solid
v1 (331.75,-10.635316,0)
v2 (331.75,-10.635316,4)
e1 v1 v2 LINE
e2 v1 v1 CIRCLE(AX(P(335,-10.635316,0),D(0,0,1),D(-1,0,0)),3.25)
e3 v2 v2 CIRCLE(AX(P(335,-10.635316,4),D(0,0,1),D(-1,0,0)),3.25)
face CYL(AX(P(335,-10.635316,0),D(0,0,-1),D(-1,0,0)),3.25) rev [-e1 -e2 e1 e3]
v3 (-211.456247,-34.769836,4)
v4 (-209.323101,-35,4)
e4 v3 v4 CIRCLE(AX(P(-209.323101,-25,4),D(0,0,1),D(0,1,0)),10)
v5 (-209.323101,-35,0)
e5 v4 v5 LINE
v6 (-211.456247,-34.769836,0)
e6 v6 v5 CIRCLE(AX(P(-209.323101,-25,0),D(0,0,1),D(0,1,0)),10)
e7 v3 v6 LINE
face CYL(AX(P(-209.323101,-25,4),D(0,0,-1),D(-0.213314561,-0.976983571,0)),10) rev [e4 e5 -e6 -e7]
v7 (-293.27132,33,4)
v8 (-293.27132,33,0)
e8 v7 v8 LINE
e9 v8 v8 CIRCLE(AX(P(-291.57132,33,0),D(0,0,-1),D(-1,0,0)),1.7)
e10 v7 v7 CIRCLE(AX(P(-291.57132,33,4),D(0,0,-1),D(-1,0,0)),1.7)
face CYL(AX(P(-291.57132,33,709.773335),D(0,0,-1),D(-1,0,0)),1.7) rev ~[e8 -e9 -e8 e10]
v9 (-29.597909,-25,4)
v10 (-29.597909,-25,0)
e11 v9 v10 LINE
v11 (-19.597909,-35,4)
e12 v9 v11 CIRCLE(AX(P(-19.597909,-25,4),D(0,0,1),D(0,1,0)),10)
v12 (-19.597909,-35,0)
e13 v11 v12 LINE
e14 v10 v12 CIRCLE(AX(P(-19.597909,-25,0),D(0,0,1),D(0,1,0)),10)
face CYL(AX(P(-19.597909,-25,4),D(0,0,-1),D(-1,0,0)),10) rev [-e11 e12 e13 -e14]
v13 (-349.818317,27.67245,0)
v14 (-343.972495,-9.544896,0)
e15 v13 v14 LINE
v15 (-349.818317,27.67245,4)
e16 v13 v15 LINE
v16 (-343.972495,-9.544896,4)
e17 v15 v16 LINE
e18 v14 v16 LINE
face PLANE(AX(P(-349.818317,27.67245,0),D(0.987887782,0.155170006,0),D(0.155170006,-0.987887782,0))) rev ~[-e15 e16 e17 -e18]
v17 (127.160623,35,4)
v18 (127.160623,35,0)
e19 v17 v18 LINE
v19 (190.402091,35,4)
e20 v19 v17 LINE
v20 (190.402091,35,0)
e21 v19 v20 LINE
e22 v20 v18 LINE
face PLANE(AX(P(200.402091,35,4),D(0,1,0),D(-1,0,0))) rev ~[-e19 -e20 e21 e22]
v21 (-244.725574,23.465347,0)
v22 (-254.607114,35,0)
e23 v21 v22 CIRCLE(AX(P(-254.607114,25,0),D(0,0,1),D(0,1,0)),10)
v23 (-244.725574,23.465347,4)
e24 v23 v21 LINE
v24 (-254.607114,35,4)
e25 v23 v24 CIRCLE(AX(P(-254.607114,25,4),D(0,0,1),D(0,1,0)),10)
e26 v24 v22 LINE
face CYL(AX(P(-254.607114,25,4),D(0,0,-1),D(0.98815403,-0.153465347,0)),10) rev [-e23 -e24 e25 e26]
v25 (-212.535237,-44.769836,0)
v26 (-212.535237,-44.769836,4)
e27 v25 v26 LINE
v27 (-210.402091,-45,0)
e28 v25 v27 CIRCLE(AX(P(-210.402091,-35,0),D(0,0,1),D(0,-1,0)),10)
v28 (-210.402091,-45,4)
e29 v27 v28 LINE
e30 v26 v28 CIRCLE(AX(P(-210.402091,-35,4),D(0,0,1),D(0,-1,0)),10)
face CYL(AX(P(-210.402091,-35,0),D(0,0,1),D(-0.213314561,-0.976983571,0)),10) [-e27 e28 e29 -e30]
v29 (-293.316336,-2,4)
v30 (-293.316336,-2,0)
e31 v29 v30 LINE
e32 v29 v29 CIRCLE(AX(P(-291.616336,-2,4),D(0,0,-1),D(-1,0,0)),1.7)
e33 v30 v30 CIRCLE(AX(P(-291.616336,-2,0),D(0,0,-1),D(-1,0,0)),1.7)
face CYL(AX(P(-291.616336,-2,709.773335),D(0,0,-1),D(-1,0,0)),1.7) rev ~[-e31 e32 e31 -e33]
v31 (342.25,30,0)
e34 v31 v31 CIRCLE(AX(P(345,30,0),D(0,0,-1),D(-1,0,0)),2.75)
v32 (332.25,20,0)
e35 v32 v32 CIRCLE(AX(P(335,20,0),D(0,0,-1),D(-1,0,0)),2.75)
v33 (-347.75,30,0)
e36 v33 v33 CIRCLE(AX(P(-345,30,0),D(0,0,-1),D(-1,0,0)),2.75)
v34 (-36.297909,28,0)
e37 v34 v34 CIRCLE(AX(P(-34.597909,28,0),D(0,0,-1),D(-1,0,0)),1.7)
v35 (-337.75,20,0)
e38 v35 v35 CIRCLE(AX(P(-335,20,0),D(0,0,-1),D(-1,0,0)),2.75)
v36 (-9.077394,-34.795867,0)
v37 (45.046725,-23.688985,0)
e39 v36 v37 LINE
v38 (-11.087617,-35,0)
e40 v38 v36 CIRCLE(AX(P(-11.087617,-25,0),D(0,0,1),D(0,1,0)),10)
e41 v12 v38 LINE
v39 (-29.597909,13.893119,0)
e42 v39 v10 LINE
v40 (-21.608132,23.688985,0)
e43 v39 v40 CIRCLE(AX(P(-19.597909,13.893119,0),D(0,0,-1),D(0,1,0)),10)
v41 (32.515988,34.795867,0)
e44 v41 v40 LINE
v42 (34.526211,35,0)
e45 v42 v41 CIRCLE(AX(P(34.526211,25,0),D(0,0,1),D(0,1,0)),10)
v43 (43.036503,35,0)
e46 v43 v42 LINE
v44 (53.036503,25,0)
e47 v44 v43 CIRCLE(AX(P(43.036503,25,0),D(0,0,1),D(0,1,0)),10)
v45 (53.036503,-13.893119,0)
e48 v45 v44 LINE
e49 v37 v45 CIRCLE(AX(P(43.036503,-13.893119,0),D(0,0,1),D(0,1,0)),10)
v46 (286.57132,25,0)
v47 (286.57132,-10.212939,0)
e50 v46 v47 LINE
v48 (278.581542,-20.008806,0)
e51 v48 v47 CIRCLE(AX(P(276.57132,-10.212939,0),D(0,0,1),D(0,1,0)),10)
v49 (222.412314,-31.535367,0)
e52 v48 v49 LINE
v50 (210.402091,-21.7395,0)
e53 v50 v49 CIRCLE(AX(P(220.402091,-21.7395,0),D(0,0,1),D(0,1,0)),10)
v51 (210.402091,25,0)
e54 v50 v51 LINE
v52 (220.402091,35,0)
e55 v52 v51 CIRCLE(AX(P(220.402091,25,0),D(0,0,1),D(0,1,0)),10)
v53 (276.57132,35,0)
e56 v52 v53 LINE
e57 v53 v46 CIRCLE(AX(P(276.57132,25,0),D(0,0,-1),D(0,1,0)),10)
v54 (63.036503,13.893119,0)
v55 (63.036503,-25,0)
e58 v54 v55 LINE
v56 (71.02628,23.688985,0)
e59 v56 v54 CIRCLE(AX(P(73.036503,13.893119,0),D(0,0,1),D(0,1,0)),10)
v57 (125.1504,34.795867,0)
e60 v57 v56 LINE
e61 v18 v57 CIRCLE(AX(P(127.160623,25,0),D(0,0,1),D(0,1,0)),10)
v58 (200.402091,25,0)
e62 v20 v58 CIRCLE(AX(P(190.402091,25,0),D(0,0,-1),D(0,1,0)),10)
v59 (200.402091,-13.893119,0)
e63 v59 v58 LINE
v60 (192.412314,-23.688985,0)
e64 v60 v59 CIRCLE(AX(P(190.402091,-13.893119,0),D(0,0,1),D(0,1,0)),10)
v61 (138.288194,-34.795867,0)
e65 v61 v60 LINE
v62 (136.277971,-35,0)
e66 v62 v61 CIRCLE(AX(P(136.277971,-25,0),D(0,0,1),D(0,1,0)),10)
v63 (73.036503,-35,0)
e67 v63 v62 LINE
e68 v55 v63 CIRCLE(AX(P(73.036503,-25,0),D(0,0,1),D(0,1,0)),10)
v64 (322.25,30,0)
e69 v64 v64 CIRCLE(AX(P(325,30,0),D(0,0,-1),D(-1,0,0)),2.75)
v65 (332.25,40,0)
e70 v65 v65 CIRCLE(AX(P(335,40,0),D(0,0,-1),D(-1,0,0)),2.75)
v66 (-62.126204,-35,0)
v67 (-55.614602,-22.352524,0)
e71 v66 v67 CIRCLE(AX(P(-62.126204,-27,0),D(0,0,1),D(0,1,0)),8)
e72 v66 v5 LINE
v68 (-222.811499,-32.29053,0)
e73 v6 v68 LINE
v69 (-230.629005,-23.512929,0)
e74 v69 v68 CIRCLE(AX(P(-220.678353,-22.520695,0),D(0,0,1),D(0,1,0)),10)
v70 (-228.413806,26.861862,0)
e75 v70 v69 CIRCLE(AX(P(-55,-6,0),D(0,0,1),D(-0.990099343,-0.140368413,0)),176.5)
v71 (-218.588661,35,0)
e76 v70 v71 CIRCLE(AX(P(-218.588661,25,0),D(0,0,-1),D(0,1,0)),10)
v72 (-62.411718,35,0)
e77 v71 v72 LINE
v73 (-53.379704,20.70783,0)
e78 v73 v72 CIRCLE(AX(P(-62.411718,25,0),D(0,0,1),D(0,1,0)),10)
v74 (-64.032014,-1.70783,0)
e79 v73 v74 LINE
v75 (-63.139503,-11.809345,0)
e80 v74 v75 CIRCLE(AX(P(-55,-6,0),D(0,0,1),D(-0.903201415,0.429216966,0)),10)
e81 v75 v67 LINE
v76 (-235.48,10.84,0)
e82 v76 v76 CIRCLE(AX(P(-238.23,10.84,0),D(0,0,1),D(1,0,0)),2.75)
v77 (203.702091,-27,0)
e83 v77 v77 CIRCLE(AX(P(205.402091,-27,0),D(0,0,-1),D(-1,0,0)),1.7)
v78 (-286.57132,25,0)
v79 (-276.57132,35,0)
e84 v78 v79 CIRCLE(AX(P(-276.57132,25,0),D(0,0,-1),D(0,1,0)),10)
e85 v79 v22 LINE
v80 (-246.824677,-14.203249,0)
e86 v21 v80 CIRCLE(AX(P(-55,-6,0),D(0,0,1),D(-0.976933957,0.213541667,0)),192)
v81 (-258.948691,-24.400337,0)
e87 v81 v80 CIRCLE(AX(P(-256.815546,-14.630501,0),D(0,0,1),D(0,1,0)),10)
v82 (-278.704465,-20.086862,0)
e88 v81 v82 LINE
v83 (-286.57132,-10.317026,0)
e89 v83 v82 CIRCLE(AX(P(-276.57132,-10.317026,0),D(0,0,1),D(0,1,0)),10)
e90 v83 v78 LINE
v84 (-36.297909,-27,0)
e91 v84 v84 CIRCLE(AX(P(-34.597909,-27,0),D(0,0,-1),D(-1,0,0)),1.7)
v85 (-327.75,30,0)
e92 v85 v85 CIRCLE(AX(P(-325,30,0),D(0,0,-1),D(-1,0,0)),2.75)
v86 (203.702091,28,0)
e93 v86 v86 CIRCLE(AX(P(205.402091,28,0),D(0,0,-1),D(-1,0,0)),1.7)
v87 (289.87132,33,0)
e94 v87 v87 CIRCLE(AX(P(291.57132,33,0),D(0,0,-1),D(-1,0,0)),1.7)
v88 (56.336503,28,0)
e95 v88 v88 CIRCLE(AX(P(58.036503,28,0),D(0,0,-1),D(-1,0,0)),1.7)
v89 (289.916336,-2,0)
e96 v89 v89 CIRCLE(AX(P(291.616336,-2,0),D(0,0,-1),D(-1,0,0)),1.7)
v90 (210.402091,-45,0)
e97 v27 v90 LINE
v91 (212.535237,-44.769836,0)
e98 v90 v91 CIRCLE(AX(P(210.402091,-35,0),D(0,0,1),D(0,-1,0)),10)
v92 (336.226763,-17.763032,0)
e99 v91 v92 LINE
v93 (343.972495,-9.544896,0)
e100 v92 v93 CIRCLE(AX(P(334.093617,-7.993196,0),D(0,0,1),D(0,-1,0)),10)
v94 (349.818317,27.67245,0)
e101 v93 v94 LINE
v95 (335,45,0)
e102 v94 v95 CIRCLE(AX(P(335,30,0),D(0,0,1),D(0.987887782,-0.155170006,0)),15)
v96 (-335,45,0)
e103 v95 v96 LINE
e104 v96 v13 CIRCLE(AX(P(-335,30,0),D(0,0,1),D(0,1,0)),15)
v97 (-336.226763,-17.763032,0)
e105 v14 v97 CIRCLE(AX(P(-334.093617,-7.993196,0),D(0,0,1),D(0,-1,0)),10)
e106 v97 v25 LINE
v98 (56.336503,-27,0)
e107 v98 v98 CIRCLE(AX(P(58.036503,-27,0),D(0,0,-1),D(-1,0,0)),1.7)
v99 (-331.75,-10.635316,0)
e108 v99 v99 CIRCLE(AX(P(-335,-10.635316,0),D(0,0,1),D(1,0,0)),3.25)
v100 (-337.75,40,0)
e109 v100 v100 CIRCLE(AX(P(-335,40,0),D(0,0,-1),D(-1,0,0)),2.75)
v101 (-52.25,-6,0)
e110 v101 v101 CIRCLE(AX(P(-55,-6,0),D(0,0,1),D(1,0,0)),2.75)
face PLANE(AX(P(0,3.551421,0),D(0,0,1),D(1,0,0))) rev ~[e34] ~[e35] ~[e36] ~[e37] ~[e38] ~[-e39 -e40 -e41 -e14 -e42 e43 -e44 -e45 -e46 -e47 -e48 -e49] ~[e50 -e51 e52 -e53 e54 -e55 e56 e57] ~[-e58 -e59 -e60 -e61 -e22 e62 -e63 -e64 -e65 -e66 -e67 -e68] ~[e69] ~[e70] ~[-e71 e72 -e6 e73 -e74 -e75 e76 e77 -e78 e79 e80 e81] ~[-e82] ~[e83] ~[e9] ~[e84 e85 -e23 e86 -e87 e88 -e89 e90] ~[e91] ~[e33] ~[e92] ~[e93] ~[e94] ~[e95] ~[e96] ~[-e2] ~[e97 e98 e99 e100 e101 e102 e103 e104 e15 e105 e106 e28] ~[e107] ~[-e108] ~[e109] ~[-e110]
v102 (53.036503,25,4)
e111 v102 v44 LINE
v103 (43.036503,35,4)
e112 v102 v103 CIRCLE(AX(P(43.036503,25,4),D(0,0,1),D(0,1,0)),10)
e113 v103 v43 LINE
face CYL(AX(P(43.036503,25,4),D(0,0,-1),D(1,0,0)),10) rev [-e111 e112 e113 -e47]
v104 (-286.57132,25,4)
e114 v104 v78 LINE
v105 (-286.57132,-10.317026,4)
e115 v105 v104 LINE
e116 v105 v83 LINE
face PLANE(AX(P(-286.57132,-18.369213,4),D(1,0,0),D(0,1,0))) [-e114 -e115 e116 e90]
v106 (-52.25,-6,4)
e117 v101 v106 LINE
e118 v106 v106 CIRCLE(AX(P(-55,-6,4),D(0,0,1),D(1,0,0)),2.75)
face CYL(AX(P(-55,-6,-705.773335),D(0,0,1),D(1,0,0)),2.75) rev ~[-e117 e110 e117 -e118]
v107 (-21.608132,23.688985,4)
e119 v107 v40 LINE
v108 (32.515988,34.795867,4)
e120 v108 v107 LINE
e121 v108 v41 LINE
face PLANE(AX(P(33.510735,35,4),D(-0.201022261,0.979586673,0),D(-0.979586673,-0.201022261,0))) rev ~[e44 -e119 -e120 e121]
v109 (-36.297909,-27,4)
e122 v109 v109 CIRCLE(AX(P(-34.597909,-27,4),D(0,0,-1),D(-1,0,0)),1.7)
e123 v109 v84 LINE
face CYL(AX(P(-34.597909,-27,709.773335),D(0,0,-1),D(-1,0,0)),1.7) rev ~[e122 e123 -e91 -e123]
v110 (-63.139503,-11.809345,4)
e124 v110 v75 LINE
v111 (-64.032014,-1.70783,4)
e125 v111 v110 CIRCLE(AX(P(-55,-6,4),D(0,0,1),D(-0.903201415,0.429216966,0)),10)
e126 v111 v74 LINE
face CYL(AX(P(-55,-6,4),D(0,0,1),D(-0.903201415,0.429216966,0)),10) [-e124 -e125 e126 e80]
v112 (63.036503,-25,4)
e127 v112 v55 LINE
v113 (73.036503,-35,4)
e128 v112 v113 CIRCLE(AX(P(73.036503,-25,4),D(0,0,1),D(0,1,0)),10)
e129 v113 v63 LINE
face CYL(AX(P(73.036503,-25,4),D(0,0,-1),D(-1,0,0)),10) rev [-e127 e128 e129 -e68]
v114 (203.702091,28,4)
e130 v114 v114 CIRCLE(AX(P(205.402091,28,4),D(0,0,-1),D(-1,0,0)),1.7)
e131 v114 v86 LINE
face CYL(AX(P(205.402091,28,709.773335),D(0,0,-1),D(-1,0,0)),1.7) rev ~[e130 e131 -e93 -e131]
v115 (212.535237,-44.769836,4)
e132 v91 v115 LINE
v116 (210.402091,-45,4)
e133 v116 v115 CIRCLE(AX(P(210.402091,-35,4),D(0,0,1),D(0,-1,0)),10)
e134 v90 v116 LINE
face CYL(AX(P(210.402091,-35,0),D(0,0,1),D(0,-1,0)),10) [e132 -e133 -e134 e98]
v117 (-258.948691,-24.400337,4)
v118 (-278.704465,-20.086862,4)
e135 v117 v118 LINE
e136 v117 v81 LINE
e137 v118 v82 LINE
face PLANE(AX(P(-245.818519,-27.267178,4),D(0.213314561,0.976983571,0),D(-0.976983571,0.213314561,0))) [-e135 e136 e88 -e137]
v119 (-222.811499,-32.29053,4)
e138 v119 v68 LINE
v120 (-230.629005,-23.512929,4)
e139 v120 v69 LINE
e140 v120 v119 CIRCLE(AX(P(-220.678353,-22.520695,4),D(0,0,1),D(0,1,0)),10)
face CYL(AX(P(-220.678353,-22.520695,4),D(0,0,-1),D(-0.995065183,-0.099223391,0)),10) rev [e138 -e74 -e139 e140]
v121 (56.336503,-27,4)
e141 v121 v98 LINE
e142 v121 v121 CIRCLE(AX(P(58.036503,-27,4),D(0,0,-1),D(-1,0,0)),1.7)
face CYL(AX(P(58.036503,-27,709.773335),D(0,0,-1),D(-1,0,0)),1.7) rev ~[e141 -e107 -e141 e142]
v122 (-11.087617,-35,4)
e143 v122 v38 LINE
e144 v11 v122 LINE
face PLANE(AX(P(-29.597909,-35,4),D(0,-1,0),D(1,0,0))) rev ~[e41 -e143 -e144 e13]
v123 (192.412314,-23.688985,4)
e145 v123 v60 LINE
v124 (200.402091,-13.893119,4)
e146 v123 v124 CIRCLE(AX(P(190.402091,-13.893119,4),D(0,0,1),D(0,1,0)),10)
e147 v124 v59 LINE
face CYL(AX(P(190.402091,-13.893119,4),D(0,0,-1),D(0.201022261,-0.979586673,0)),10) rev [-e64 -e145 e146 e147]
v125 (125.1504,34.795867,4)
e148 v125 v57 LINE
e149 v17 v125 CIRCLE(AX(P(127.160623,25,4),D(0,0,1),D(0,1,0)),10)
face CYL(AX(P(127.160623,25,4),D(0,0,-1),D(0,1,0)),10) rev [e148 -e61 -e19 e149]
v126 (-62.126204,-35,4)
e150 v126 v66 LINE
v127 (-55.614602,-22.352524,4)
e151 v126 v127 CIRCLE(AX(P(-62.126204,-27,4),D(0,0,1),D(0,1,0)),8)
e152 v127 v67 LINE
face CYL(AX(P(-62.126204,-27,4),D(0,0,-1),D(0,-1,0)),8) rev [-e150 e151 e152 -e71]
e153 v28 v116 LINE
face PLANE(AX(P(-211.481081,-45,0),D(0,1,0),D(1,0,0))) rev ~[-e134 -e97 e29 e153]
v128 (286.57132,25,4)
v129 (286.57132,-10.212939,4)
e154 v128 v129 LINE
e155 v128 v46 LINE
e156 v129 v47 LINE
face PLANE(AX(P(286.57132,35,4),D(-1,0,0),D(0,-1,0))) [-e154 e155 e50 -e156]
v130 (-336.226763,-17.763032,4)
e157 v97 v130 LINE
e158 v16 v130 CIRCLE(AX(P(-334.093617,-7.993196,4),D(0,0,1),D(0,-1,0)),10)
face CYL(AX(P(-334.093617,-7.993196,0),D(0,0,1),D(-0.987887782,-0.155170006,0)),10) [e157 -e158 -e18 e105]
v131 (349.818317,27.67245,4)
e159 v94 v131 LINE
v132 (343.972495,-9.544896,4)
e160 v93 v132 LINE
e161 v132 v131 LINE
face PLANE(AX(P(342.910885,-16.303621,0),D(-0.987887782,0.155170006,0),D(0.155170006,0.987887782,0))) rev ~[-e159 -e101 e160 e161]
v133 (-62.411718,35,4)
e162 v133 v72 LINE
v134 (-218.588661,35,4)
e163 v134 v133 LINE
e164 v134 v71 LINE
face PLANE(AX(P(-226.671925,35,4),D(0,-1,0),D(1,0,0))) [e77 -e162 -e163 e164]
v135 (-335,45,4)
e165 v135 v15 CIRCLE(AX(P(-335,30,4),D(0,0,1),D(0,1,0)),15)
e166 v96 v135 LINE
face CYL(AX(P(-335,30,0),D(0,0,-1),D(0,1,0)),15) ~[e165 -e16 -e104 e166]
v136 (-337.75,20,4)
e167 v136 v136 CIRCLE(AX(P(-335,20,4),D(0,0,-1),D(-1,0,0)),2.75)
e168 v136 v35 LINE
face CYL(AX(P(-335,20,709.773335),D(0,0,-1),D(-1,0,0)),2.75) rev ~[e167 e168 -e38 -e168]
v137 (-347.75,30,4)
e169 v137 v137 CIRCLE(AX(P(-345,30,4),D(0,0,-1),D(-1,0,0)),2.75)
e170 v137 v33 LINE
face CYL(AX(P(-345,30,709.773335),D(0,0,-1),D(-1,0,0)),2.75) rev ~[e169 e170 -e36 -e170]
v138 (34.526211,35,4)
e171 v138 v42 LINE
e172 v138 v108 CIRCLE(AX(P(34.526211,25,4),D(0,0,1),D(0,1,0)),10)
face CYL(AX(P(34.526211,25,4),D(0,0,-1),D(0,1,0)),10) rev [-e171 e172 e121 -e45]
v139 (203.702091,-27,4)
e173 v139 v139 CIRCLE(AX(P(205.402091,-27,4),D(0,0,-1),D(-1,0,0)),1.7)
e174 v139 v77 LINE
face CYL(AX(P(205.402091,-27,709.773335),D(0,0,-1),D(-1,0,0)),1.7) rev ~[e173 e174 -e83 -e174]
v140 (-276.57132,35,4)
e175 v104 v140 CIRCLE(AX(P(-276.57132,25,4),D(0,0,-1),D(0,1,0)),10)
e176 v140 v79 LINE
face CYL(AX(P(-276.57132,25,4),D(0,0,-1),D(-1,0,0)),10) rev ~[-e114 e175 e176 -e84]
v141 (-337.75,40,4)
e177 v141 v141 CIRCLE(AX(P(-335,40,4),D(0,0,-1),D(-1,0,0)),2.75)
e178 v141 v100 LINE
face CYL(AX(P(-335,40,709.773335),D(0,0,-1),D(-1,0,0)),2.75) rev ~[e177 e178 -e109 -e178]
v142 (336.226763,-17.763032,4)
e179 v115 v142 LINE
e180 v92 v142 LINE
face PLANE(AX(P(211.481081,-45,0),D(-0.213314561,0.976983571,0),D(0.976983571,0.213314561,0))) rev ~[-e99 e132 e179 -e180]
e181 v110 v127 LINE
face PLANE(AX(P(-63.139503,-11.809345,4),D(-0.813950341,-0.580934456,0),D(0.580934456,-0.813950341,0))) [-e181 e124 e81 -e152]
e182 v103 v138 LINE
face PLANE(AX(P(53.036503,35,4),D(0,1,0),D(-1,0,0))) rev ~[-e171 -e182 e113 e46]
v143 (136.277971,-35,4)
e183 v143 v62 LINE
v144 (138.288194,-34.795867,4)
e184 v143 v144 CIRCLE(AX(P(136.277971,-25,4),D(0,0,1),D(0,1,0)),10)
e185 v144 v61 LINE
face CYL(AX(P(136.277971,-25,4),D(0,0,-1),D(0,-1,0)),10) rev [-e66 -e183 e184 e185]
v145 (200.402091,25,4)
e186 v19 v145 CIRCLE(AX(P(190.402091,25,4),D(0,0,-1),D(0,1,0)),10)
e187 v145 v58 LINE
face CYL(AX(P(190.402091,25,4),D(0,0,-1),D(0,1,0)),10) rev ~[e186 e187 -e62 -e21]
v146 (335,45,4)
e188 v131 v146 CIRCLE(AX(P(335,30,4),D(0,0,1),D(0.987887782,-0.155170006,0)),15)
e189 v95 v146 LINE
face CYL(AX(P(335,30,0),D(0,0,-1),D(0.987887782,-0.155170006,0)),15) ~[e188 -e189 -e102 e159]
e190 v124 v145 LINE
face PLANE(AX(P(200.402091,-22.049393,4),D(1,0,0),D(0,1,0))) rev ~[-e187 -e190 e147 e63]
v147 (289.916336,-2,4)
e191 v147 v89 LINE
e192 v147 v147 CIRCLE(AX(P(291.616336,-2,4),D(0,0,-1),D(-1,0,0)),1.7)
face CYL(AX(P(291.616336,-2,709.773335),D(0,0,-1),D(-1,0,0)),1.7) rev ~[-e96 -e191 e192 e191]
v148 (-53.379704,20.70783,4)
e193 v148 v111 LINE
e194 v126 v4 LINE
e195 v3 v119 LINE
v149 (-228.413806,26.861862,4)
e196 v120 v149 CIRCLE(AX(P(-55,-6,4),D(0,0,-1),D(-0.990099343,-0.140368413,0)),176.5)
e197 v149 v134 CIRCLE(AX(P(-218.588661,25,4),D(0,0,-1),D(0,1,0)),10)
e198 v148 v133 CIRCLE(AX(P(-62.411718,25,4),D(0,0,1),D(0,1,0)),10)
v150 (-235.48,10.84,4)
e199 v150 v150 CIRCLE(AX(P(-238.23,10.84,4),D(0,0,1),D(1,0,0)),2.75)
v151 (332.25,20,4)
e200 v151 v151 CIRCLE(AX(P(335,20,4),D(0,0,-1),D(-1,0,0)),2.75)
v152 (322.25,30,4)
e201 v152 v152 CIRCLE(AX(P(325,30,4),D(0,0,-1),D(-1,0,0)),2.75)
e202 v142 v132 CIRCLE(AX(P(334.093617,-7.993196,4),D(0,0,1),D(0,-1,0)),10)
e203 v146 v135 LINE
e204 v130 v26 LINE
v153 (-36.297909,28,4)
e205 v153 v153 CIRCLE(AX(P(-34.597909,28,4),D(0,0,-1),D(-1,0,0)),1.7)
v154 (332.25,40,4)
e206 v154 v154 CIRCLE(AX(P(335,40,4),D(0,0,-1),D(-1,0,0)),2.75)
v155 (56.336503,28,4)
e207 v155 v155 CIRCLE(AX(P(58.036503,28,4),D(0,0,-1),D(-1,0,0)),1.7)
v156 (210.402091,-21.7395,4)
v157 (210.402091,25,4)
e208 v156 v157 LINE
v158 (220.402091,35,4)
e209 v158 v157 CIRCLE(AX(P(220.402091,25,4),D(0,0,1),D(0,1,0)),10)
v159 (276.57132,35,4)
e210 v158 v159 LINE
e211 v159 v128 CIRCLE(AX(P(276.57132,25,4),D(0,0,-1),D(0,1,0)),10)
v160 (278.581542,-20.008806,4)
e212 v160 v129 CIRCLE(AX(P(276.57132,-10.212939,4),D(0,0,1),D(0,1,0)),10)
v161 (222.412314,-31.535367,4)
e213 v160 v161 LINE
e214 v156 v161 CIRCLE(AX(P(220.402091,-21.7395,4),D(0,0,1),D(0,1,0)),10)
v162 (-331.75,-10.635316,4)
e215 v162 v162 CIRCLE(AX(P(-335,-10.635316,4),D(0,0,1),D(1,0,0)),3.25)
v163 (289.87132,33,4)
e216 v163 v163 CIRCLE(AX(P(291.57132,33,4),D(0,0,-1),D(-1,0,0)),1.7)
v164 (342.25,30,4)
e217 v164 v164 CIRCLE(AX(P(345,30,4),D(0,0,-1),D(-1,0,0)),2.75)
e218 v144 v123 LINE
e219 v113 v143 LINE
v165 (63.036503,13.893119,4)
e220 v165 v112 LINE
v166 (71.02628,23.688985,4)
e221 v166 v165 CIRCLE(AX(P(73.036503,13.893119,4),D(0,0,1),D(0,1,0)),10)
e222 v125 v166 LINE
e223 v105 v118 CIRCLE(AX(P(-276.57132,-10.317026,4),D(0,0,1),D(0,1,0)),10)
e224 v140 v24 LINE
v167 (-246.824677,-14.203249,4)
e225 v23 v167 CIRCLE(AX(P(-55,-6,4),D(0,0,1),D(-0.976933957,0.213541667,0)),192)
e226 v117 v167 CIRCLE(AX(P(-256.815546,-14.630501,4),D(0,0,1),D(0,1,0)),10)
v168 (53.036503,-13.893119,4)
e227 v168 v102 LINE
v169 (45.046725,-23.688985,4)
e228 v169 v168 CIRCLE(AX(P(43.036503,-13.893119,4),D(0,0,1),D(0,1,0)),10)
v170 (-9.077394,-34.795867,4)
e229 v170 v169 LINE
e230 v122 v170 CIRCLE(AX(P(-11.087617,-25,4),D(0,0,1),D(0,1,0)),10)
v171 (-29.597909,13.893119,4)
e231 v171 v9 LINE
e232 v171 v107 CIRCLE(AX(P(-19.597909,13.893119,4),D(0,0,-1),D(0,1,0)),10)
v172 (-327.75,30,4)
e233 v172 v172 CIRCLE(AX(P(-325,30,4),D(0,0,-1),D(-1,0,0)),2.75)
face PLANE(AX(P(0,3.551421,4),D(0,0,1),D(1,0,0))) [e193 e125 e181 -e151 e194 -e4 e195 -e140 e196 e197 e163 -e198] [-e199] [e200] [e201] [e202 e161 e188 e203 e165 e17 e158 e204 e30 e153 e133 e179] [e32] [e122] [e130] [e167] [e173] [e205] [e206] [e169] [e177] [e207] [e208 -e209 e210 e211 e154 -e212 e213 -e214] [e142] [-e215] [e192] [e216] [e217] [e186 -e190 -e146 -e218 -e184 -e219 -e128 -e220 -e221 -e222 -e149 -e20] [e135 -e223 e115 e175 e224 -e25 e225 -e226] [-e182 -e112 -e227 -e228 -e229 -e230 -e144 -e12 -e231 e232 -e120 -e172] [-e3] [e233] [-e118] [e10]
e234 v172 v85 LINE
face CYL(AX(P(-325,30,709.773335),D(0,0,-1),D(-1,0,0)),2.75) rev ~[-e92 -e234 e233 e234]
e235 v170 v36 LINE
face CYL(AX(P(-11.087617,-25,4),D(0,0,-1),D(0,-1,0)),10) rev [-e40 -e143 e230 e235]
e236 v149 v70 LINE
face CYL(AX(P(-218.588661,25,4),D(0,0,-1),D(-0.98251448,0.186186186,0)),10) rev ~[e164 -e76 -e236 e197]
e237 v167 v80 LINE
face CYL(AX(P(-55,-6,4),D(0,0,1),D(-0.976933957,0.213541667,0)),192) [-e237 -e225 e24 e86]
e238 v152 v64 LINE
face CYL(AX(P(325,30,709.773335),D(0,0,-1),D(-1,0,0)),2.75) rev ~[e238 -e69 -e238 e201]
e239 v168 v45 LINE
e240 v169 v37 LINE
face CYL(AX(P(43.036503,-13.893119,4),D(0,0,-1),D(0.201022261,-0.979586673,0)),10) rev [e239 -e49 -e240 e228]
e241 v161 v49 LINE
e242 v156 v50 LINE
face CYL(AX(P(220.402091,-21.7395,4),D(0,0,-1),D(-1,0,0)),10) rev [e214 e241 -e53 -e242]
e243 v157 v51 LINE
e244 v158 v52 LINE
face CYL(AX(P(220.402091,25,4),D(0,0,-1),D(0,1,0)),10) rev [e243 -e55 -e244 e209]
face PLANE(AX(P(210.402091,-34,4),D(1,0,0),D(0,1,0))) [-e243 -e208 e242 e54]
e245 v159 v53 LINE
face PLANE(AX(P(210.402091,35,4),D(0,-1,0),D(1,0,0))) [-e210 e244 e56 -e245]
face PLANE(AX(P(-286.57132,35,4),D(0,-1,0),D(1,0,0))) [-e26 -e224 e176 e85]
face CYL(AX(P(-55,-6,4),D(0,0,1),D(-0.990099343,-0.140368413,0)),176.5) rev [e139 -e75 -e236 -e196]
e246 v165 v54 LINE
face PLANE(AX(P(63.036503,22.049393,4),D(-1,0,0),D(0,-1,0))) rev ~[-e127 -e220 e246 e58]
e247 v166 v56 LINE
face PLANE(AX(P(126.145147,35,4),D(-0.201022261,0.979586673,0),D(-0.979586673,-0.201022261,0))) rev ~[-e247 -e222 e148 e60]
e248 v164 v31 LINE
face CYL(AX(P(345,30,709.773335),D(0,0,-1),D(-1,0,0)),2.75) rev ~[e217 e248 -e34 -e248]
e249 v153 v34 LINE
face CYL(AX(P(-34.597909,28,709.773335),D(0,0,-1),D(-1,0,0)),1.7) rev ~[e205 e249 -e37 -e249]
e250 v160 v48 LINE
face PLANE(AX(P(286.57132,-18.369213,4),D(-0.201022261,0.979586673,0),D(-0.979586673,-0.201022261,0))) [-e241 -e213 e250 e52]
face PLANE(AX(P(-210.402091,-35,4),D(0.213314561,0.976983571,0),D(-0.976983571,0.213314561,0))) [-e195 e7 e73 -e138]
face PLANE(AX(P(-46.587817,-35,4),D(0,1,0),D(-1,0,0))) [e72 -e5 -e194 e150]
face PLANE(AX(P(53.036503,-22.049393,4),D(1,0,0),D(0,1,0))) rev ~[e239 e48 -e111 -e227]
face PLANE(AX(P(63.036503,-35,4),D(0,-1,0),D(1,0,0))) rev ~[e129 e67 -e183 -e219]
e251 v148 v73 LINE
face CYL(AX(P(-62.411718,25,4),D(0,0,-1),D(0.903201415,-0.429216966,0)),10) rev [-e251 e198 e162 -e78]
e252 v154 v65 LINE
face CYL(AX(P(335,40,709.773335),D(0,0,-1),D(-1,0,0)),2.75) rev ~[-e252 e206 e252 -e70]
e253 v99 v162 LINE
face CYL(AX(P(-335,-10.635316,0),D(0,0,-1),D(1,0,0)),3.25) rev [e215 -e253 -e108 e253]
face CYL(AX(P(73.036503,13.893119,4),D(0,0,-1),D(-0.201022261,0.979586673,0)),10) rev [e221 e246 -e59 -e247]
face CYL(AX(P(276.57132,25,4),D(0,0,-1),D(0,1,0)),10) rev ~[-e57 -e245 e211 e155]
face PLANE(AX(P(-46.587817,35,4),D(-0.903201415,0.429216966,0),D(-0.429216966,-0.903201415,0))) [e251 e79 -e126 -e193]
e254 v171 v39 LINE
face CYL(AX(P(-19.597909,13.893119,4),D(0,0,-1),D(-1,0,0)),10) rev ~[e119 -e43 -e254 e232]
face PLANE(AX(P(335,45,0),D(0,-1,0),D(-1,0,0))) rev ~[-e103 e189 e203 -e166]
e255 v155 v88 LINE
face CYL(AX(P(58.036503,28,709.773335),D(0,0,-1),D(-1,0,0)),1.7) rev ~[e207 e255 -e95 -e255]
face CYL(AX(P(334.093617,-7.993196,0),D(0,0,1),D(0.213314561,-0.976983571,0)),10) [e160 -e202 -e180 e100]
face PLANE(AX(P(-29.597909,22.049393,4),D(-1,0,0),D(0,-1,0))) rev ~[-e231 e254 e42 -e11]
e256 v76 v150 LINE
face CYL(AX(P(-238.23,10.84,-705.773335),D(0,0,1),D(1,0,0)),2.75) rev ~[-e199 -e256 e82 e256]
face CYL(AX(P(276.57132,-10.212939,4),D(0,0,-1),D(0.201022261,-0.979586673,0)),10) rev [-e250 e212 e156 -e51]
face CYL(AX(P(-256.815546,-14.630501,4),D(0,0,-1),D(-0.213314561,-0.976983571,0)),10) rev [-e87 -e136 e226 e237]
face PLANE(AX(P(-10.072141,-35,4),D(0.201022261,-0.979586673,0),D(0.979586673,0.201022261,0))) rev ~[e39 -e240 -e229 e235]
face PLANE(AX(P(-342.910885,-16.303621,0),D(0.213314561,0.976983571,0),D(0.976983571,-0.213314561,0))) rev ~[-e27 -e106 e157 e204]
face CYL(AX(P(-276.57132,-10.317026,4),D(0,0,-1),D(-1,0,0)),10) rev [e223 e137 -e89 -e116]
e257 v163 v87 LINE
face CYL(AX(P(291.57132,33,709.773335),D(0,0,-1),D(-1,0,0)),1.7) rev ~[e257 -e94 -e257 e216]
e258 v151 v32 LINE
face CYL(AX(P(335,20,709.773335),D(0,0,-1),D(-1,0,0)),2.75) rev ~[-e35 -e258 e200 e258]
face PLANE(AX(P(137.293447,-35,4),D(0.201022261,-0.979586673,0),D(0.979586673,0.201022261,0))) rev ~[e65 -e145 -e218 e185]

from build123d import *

# Parameters (mm, degrees)
SKETCH_1_R          = 3.25
EXTRUDE_1_DEPTH     = 4
HOLE_WIZARD_M51_D   = 5.5
HOLE_WIZARD_M52_D   = 5.5
CUT_EXTRUDE_3_DEPTH = 353.903669576
FILLET_2_R          = 10
FILLET_3_R          = 10
HOLE_WIZARD_M31_D   = 3.4
FILLET_4_R          = 8


with BuildPart() as part:
    # Эскиз1 → Бобышка-Вытянуть1 (new body)
    with BuildSketch(Plane.XY):
        with BuildLine():
            Line((-349.818316726, 27.672449915), (-342.910885265, -16.303620822))
            Line((-342.910885265, -16.303620822), (-211.481081006, -45))
            Line((-211.481081006, -45), (211.481081006, -45))
            Line((211.481081006, -45), (342.910885265, -16.303620822))
            Line((342.910885265, -16.303620822), (349.818316726, 27.672449915))
            ThreePointArc((349.818316726, 27.672449915), (346.399852001, 39.749019149), (335, 45))
            Line((335, 45), (-335, 45))
            ThreePointArc((-335, 45), (-346.399852001, 39.749019149), (-349.818316726, 27.672449915))
        make_face()
        with Locations((-335, -10.635315981)):
            Circle(SKETCH_1_R, mode=Mode.SUBTRACT)
        with Locations(Location((335, -10.635315981, 0), (0, 0, 180))):
            Circle(SKETCH_1_R, mode=Mode.SUBTRACT)
    extrude(amount=EXTRUDE_1_DEPTH)

    # Отверстие с зазором M51 (through all)
    with Locations(Plane.XY.offset(4)):
        with Locations((-335, 40), (-345, 30), (-335, 20), (-325, 30), (325, 30), (335, 40), (345, 30), (335, 20)):
            Hole(HOLE_WIZARD_M51_D / 2)

    # Отверстие с зазором M52 (through all)
    with Locations(Plane(origin=(0, 0, 0), x_dir=(-1, 0, 0), z_dir=(0, 0, -1))):
        with Locations((55, -6), (238.23, 10.84)):
            Hole(HOLE_WIZARD_M52_D / 2)

    # Эскиз10 → Вырез-Вытянуть3 (cut, through all)
    with BuildSketch(Plane.XY.offset(4)):
        with BuildLine():
            Line((-286.571319769, 35), (-242.571319769, 35))
            ThreePointArc((-242.571319769, 35), (-246.739453064, 3.999106889), (-245.818518827, -27.267178292))
            Line((-245.818518827, -27.267178292), (-286.571319769, -18.369213063))
            Line((-286.571319769, -18.369213063), (-286.571319769, 35))
        make_face()
        with BuildLine():
            Line((-226.671925486, 35), (-46.587816989, 35))
            Line((-46.587816989, 35), (-64.032014151, -1.707830342))
            ThreePointArc((-64.032014151, -1.707830342), (-64.961194769, -6.880112935), (-63.13950341, -11.809344562))
            Line((-63.13950341, -11.809344562), (-46.587816989, -35))
            Line((-46.587816989, -35), (-210.402090952, -35))
            Line((-210.402090952, -35), (-229.752534006, -30.775024894))
            ThreePointArc((-229.752534006, -30.775024894), (-231.306735573, 2.257420391), (-226.671925486, 35))
        make_face()
        Polygon((286.571319769, 35), (286.571319769, -18.369213063), (210.402090952, -34), (210.402090952, 35), align=None)
        Polygon((200.402090952, 35), (126.145146633, 35), (63.036502818, 22.049392771), (63.036502818, -35), (137.293447136, -35), (200.402090952, -22.049392771), align=None)
        Polygon((-29.597909048, 22.049392771), (-29.597909048, -35), (-10.072140997, -35), (53.036502818, -22.049392771), (53.036502818, 35), (33.510734767, 35), align=None)
    extrude(amount=-CUT_EXTRUDE_3_DEPTH, mode=Mode.SUBTRACT)

    # Скругление2
    fillet_2_edges = [part.edges().sort_by_distance(p)[0] for p in [
        (210.402090952, 35, 2),
        (286.571319769, 35, 2),
        (286.571319769, -18.369213063, 2),
        (210.402090952, -34, 2),
        (-210.402090952, -35, 2),
        (-229.752534006, -30.775024894, 2),
        (-226.671925486, 35, 2),
        (-46.587816989, 35, 2),
        (342.910885265, -16.303620822, 2),
        (211.481081006, -45, 2),
        (-211.481081006, -45, 2),
        (-342.910885265, -16.303620822, 2),
        (-286.571319769, -18.369213063, 2),
        (-286.571319769, 35, 2),
        (-242.571319769, 35, 2),
        (-245.818518827, -27.267178292, 2),
    ]]
    fillet(fillet_2_edges, radius=FILLET_2_R)

    # Скругление3
    fillet_3_edges = [part.edges().sort_by_distance(p)[0] for p in [
        (63.036502818, 22.049392771, 2),
        (126.145146633, 35, 2),
        (200.402090952, 35, 2),
        (200.402090952, -22.049392771, 2),
        (137.293447136, -35, 2),
        (63.036502818, -35, 2),
        (33.510734767, 35, 2),
        (53.036502818, 35, 2),
        (53.036502818, -22.049392771, 2),
        (-10.072140997, -35, 2),
        (-29.597909048, -35, 2),
        (-29.597909048, 22.049392771, 2),
    ]]
    fillet(fillet_3_edges, radius=FILLET_3_R)

    # Отверстие с зазором M31 (through all)
    with Locations(Plane.XY.offset(4)):
        with Locations((-34.597909048, 28), (-34.597909048, -27), (205.402090952, -27), (205.402090952, 28), (291.571319769, 33), (291.6163356, -2), (-291.6163356, -2), (-291.571319769, 33), (58.036502818, 28), (58.036502818, -27)):
            Hole(HOLE_WIZARD_M31_D / 2)

    # Скругление4
    fillet_4_edges = [part.edges().sort_by_distance(p)[0] for p in [
        (-46.587816989, -35, 2),
    ]]
    fillet(fillet_4_edges, radius=FILLET_4_R)


solid = part.part
